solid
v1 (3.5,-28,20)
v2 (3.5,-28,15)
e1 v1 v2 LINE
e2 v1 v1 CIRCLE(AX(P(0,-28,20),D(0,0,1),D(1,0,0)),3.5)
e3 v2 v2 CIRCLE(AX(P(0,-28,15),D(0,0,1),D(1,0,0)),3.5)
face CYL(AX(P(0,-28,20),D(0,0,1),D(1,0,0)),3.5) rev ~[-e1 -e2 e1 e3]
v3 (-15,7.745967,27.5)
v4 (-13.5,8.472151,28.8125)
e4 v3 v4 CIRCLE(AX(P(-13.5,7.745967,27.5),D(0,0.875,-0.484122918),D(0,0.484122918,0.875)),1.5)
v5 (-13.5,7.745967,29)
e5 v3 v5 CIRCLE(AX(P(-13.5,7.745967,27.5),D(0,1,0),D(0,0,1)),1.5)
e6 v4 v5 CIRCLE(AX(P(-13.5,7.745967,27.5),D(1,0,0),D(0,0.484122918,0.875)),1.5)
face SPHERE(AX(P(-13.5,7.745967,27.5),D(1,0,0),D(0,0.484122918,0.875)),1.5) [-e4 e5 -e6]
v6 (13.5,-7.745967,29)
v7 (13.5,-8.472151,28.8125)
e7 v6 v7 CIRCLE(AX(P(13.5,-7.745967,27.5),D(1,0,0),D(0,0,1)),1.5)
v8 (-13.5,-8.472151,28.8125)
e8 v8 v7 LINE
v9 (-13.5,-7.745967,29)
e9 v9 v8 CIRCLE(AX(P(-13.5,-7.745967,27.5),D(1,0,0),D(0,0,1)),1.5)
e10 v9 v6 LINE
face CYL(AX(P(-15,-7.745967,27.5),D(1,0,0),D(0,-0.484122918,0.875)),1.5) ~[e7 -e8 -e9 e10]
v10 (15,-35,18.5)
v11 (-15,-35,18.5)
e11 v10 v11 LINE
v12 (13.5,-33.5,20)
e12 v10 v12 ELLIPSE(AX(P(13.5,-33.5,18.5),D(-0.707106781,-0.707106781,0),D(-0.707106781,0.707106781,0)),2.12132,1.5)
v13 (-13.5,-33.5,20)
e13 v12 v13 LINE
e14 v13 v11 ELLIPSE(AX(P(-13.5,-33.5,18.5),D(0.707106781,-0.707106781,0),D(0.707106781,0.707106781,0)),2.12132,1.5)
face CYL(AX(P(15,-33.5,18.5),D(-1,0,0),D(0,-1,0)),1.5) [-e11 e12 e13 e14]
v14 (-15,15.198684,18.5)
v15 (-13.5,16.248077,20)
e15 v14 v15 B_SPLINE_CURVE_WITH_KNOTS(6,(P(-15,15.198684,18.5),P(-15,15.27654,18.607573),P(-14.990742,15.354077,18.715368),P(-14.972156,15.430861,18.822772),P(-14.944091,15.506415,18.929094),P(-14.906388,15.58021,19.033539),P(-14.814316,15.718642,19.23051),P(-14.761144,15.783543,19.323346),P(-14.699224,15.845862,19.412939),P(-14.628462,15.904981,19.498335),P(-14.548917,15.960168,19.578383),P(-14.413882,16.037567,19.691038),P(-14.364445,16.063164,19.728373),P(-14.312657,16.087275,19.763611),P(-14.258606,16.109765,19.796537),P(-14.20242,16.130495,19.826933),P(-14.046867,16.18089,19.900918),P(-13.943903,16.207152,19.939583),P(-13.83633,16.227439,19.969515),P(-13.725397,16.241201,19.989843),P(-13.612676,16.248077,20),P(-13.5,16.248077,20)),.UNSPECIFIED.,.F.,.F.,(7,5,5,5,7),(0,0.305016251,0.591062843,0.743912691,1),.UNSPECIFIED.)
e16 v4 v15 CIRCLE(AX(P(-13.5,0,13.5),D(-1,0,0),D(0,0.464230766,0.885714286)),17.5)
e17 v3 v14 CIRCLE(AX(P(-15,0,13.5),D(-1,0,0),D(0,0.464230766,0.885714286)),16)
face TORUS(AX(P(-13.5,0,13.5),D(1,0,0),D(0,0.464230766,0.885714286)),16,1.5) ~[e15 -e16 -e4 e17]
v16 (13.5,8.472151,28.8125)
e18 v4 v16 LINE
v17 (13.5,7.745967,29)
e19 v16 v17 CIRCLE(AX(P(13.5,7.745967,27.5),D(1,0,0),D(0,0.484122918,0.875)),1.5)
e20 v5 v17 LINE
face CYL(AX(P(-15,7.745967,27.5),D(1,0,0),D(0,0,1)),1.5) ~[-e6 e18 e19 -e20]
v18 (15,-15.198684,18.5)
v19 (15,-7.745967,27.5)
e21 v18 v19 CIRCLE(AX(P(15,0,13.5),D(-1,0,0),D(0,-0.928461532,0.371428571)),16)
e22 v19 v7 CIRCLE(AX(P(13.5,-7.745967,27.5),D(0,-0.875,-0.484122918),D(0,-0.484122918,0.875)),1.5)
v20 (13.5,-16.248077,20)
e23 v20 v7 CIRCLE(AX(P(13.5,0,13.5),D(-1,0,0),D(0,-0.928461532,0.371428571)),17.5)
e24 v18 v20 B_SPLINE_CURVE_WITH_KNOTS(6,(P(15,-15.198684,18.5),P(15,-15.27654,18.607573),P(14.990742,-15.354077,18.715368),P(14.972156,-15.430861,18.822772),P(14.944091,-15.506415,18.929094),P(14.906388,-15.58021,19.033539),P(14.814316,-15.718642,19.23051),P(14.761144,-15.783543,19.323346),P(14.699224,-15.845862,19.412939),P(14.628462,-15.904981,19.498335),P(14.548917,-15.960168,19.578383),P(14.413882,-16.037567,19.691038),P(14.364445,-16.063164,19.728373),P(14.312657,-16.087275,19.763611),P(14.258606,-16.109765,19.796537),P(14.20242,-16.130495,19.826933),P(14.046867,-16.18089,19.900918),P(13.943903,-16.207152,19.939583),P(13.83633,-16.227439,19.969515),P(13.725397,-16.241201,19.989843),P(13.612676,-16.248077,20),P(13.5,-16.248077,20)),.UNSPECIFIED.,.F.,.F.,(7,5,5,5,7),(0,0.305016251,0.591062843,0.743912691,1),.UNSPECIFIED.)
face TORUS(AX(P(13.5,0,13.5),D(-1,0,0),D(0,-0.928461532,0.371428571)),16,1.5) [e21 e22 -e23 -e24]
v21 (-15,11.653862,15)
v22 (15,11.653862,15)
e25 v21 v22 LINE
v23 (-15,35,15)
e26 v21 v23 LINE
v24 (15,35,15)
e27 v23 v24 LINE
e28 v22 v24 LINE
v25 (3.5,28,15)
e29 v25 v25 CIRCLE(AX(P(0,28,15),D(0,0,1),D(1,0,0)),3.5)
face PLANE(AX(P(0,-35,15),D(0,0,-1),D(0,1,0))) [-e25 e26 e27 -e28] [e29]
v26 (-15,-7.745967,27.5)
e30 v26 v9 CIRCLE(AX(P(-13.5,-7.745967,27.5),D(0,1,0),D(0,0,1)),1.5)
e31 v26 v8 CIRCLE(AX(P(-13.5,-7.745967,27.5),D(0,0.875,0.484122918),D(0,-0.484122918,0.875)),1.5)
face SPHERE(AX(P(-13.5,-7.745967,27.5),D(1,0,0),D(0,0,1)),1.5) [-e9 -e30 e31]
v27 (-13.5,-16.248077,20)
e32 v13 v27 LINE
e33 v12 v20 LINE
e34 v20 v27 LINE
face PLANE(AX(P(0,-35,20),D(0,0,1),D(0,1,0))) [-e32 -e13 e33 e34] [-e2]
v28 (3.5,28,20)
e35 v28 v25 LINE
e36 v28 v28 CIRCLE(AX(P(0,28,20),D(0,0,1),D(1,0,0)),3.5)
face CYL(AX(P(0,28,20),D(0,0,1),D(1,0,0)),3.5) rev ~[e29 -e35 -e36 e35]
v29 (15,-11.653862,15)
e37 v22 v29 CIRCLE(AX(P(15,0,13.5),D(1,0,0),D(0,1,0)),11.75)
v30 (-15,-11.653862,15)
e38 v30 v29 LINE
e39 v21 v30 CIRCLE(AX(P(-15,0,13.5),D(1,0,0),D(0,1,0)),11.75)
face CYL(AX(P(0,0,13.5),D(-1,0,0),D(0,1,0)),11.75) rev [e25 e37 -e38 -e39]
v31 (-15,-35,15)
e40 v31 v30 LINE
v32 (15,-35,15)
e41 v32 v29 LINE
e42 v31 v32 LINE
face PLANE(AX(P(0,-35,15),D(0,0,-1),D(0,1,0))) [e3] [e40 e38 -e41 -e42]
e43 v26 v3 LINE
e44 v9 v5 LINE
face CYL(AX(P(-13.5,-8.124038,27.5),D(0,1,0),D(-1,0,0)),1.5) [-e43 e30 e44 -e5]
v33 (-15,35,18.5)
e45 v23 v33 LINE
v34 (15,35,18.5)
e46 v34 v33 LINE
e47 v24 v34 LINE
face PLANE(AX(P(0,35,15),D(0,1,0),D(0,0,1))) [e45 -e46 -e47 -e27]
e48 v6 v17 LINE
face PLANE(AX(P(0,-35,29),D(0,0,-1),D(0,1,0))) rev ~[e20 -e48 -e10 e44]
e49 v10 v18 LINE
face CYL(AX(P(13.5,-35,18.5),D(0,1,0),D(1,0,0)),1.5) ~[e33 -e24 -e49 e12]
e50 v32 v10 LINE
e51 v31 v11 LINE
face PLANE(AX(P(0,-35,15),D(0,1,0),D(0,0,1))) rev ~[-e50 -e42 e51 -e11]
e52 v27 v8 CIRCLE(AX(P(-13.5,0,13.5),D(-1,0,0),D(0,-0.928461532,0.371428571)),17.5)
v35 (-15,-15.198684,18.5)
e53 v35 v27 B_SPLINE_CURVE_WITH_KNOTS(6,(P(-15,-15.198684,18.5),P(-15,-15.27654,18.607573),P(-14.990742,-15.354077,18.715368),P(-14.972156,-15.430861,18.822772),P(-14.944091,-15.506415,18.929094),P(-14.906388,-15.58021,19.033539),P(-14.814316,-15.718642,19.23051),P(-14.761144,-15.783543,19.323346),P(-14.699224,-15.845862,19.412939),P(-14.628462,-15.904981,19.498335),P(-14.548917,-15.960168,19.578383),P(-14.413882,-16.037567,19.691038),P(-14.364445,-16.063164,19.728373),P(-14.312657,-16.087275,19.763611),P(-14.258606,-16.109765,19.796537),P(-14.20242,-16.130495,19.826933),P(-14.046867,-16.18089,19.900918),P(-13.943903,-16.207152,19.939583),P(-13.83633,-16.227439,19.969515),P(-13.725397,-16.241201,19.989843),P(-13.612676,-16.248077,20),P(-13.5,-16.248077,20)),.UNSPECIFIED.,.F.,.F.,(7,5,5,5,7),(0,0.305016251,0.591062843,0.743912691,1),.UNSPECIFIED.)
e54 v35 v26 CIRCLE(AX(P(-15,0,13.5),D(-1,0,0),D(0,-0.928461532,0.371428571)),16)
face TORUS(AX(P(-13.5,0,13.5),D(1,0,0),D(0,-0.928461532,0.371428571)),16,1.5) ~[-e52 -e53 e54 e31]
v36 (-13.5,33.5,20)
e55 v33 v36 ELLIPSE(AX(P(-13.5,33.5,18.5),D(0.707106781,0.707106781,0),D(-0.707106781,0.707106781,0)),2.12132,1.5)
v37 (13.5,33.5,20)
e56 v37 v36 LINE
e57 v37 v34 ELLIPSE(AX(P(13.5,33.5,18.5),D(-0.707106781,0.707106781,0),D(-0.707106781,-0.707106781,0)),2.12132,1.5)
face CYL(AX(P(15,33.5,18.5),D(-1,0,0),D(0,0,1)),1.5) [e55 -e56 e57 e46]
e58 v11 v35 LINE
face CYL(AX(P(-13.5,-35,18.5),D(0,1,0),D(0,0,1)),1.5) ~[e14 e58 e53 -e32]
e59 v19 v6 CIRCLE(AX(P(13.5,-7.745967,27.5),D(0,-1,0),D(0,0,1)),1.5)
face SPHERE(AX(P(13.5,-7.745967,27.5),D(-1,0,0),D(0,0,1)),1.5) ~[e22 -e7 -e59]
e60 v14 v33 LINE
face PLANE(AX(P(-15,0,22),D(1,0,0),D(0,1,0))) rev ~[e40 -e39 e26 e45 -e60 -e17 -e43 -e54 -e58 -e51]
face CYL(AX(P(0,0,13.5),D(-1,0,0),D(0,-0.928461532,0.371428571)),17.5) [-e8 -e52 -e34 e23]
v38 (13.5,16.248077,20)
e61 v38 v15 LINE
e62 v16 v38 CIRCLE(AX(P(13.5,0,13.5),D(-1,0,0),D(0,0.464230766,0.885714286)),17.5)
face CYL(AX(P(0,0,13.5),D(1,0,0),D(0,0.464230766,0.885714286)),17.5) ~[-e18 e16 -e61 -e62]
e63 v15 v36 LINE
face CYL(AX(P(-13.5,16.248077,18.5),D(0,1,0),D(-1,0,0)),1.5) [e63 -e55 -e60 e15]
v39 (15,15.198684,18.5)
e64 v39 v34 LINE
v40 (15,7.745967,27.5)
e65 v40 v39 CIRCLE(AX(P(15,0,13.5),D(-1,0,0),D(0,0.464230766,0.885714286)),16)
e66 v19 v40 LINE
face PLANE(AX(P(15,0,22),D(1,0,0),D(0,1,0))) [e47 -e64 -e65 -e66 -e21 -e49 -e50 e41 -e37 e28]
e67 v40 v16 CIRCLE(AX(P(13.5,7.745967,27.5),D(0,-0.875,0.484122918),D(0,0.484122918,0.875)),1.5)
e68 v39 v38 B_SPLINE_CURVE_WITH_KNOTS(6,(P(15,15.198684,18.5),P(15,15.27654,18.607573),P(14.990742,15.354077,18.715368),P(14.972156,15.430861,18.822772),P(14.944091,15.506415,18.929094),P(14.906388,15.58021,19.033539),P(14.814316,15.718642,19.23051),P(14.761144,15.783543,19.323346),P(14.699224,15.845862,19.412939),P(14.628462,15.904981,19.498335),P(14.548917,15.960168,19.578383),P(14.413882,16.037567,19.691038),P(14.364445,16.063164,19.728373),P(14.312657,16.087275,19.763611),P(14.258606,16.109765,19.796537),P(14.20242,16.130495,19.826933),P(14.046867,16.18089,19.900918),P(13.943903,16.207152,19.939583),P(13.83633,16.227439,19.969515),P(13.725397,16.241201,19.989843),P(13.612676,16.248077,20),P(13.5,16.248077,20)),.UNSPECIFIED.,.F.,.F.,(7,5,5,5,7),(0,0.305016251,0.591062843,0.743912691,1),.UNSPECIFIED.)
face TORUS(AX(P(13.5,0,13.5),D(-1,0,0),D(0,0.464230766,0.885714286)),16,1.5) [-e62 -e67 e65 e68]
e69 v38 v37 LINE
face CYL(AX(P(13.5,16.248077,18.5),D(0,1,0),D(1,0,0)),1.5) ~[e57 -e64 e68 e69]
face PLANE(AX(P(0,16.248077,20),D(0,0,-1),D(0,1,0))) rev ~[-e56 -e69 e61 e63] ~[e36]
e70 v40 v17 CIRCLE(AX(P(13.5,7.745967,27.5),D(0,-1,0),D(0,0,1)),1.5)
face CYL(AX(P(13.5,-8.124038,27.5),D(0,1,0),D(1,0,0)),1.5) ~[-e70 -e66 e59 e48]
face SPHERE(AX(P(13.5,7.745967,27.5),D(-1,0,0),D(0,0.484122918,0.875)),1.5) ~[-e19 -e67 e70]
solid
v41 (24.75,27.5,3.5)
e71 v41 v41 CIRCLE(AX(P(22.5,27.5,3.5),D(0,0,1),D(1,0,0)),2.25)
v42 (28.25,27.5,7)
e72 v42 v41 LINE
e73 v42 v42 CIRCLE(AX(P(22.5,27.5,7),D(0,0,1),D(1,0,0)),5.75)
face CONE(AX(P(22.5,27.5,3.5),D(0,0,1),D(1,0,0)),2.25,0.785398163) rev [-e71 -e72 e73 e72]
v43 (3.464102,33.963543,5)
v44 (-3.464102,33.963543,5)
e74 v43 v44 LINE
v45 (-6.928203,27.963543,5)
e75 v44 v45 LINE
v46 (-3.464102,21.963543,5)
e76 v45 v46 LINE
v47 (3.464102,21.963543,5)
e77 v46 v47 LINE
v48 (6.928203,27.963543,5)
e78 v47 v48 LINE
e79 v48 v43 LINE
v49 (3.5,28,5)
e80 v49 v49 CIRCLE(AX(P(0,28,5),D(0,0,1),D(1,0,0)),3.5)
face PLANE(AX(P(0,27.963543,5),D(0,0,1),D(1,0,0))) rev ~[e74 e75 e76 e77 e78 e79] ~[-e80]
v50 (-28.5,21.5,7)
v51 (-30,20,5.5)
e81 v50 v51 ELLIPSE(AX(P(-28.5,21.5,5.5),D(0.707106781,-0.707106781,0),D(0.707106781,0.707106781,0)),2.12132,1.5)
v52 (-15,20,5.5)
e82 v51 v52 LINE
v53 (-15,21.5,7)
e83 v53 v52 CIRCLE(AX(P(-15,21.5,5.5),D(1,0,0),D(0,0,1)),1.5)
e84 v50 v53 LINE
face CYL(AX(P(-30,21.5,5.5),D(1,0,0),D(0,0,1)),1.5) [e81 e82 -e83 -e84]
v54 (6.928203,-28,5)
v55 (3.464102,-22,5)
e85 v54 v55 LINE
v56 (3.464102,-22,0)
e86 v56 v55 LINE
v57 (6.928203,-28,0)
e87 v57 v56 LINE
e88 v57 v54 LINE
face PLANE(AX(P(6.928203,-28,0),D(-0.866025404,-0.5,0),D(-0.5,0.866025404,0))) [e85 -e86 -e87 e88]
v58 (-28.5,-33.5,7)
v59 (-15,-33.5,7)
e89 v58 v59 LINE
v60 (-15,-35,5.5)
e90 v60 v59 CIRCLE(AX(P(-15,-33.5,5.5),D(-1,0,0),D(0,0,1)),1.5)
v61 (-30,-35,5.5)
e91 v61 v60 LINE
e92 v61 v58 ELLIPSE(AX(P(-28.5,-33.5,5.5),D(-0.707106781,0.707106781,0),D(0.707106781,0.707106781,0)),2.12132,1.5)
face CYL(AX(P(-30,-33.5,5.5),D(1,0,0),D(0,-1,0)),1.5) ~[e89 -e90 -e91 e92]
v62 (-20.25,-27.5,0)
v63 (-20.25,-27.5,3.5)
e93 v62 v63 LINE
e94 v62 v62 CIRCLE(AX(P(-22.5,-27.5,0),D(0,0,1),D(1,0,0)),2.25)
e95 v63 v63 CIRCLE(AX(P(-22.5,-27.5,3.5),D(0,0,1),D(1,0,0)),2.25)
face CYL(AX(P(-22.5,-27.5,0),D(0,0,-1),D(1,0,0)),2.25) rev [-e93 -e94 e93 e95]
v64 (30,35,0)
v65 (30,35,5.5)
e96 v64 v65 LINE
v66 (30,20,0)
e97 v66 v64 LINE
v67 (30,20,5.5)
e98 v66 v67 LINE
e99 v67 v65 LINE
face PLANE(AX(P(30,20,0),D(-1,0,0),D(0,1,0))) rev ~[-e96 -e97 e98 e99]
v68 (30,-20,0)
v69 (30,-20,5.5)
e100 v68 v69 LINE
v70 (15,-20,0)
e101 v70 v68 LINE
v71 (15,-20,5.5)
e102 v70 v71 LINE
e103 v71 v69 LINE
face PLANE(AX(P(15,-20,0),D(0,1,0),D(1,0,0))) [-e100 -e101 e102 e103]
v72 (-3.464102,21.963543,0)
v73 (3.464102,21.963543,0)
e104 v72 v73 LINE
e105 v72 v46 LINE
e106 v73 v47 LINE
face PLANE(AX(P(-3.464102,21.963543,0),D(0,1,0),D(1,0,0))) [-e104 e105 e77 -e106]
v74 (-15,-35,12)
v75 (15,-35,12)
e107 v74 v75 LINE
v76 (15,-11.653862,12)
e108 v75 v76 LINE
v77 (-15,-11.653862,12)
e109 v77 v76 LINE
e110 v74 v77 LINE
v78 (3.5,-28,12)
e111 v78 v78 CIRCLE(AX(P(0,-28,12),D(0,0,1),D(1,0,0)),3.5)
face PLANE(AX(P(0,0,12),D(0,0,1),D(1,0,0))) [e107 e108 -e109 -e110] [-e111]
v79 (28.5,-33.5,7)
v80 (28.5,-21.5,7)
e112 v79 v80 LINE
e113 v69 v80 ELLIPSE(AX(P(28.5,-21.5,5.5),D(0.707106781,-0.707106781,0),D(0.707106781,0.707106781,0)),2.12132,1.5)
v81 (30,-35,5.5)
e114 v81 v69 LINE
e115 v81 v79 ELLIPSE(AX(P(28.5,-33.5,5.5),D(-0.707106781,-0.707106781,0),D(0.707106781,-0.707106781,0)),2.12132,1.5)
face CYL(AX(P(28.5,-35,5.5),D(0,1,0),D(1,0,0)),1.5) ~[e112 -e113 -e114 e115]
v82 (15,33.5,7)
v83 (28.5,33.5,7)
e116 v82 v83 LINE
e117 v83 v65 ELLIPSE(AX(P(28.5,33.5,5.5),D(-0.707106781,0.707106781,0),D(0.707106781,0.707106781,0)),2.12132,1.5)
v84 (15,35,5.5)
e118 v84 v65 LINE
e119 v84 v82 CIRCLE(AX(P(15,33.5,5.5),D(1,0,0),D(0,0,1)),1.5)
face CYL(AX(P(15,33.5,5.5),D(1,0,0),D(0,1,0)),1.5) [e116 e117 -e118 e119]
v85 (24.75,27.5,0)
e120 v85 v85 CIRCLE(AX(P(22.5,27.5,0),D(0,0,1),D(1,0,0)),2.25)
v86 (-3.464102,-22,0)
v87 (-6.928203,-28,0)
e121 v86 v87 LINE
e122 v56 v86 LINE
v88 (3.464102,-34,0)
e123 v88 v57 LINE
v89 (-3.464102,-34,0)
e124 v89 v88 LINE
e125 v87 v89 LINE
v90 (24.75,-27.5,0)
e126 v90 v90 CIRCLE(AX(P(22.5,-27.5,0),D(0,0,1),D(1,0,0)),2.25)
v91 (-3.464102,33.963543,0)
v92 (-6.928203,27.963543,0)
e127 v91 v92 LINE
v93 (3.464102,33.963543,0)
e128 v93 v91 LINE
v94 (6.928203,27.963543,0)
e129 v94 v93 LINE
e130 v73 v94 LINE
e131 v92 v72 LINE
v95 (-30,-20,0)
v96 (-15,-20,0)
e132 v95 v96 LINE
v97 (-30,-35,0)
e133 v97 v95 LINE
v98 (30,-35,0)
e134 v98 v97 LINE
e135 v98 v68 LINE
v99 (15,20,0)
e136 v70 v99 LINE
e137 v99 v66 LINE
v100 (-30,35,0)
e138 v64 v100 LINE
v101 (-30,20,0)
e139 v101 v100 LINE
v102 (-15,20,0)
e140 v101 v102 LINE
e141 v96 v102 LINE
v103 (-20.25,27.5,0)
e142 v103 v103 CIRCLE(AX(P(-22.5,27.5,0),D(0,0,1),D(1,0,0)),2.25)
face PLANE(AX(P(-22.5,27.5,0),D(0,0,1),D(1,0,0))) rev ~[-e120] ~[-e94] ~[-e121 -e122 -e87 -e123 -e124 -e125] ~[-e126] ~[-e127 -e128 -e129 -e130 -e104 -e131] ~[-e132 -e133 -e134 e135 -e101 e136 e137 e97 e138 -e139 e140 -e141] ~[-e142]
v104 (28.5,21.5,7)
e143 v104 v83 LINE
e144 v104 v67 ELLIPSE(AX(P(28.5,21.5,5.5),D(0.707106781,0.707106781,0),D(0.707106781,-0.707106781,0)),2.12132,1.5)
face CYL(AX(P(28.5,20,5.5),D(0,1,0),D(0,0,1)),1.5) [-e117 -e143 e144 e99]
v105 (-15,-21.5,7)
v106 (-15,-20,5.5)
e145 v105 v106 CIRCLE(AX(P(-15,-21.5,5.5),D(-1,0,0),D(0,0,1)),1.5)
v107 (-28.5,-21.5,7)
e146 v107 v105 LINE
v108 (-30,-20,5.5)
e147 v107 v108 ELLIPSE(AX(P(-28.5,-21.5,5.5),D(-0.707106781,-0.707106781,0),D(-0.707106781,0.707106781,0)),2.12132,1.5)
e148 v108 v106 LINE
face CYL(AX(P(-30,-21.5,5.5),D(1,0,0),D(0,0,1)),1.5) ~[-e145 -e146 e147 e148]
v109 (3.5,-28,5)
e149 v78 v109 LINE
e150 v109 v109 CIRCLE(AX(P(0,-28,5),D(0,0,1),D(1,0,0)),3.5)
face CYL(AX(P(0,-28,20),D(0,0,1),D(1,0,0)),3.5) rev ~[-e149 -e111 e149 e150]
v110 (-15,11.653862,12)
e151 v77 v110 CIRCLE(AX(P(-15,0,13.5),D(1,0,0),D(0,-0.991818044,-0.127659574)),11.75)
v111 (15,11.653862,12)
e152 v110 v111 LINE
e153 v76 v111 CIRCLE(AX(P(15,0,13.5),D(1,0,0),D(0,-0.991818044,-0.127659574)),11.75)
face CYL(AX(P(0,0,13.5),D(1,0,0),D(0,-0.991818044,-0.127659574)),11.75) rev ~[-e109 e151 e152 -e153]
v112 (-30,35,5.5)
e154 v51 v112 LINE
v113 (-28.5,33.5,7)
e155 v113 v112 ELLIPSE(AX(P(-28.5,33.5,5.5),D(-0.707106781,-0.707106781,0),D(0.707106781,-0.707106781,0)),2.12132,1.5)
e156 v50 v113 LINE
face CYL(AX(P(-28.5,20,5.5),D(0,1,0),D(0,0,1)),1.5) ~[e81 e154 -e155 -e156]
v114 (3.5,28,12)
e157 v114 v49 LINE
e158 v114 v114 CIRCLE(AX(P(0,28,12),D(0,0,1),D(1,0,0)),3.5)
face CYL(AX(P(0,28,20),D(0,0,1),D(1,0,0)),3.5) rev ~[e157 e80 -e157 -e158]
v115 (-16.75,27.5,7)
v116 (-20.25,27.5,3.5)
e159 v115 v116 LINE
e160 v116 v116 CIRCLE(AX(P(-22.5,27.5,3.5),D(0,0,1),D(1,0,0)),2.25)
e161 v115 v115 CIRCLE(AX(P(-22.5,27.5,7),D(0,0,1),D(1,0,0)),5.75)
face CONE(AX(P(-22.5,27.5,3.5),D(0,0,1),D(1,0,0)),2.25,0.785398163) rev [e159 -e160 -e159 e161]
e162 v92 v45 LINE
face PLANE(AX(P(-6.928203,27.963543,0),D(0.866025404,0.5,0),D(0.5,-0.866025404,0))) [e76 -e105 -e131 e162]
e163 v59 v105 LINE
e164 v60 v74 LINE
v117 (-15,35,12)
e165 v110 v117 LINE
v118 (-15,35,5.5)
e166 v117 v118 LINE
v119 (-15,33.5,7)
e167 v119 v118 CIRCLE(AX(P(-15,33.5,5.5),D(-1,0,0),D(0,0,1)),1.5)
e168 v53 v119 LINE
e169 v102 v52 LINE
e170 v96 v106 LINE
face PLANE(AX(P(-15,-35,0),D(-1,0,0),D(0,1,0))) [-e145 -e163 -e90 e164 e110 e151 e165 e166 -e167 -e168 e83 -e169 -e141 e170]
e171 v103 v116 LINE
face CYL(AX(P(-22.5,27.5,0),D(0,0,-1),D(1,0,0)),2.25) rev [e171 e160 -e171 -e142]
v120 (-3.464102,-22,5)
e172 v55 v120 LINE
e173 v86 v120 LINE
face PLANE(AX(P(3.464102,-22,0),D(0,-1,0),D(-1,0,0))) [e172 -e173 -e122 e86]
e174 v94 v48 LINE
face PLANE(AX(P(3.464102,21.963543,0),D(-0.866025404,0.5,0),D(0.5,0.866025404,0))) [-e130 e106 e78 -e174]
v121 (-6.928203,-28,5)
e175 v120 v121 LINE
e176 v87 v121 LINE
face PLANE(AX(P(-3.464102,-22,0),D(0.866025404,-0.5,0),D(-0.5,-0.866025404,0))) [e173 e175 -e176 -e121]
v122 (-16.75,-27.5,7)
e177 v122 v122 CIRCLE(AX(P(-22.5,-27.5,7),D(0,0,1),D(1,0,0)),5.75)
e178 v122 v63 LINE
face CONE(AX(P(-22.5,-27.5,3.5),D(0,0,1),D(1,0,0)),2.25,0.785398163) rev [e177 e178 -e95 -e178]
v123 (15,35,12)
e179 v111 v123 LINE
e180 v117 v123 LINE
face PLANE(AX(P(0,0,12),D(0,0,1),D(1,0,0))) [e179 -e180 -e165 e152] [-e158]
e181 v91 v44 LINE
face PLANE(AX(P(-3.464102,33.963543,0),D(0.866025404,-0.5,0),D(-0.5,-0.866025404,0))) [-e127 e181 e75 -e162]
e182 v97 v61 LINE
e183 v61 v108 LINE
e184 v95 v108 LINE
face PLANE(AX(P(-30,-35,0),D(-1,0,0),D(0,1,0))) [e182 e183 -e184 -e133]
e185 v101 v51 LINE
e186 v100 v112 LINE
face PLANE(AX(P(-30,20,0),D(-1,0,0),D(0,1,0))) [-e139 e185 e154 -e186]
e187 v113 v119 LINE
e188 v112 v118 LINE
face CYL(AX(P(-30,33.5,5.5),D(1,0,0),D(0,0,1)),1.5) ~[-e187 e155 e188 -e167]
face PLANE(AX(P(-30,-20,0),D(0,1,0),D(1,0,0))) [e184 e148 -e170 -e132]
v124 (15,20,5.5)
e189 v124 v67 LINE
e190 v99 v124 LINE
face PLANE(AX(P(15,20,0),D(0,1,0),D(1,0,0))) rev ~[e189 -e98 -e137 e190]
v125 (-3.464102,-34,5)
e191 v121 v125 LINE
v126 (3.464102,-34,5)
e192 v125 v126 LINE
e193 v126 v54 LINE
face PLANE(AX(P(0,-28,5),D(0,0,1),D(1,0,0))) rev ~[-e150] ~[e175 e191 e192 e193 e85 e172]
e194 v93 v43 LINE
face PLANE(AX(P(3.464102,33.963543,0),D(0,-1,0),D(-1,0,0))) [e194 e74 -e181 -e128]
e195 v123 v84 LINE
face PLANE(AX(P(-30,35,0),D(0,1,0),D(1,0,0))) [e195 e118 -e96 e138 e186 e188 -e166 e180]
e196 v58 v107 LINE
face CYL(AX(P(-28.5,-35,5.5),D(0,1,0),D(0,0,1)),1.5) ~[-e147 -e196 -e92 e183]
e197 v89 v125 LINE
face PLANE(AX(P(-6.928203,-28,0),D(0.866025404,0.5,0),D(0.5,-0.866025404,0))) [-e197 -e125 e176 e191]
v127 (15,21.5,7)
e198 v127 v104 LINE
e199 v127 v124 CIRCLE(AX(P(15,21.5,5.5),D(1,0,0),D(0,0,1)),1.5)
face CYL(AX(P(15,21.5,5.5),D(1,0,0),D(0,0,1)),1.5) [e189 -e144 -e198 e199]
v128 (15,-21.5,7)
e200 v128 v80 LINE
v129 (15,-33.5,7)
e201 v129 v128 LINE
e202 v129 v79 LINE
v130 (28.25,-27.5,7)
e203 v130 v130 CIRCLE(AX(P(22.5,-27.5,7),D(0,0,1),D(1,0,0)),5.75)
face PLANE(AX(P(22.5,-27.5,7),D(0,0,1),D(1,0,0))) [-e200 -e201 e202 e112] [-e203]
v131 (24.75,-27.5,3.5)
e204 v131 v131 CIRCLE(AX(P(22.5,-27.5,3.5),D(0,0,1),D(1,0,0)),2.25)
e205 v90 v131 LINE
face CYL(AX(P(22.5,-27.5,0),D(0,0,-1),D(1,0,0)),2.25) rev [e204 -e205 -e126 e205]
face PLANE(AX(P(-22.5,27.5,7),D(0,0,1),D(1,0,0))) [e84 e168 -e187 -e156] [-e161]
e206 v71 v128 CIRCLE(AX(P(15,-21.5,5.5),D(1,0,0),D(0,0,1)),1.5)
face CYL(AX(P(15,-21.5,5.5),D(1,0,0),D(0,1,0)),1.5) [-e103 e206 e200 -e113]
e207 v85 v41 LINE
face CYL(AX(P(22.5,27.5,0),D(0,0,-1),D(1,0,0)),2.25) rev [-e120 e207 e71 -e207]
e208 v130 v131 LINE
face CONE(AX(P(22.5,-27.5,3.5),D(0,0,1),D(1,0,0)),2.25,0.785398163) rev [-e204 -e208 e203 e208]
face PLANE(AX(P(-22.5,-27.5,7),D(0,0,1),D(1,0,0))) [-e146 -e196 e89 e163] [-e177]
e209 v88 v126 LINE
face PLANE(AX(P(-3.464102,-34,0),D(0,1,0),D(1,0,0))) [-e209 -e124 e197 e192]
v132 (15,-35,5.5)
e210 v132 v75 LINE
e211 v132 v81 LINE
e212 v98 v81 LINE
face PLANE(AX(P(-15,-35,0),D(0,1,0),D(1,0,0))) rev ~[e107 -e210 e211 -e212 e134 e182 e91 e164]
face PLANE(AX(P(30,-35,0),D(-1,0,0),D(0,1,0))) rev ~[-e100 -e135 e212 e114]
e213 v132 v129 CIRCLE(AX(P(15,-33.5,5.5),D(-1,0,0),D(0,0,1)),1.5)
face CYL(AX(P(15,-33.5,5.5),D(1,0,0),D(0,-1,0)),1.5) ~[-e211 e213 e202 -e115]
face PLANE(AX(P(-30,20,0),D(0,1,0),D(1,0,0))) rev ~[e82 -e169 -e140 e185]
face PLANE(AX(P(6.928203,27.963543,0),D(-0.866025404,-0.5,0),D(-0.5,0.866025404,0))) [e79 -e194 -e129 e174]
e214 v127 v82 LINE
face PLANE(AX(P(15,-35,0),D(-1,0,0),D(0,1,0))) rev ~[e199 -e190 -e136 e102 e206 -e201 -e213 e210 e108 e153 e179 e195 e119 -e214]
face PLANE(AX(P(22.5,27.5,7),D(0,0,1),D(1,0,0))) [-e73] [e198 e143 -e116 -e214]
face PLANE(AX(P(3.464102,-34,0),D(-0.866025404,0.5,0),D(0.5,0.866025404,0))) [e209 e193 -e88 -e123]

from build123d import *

# Parameters (mm, degrees)
F0_W      = 30
F0_H      = 70
F1_DEPTH  = 12
F2_W      = 70
F2_H      = 14
F3_DEPTH  = 15
F5_DEPTH  = 15
F7_DEPTH  = 15
F9_DEPTH  = 20.001
F11_DEPTH = 5
F12_W     = 15
F12_H     = 15
F12_R     = 2.25
F13_DEPTH = 7
F14_SIZE  = 3.5
F15_R     = 1.5
F15_2_R   = 1.5


with BuildPart() as f1:
    # F0 (on Top) → F1 (new body)
    with BuildSketch(Plane.XY):
        Rectangle(F0_W, F0_H)
    extrude(amount=F1_DEPTH)


with BuildPart() as f3:
    # F2 (on Right) → F3 (new body, symmetric)
    with BuildSketch(Plane.YZ):
        with Locations((0, 22)):
            Rectangle(F2_W, F2_H)
    extrude(amount=F3_DEPTH, both=True)


with BuildPart() as f5_tool:
    # F4 (on Right) → F5 (new body, symmetric)
    with BuildSketch(Plane.YZ):
        with BuildLine():
            ThreePointArc((11.75, 13.5), (0, 25.25), (-11.75, 13.5))
            Line((-11.75, 13.5), (0, 13.5))
            Line((0, 13.5), (0, 12))
            Line((0, 12), (-11.6538620208, 12))
            ThreePointArc((-11.6538620208, 12), (0.7515388398, 1.7740591264), (11.75, 13.5))
        make_face()
        with BuildLine():
            Line((0, 13.5), (-11.75, 13.5))
            ThreePointArc((-11.75, 13.5), (-11.7259408736, 12.7484611602), (-11.6538620208, 12))
            Line((-11.6538620208, 12), (0, 12))
            Line((0, 12), (0, 13.5))
        make_face()
    extrude(amount=F5_DEPTH, both=True)


with BuildPart() as f1_1:
    add(f1.part)

    # F5: cut by f5_tool
    add(f5_tool.part, mode=Mode.SUBTRACT)


with BuildPart() as f3_1:
    add(f3.part)

    # F5: cut by f5_tool
    add(f5_tool.part, mode=Mode.SUBTRACT)

    # F6 (on Right) → F7 (cut, symmetric)
    with BuildSketch(Plane.YZ):
        with BuildLine():
            ThreePointArc((-16.2480768093, 20), (-12.9903810568, 25.2260393996), (-8.1240384046, 29))
            Line((-8.1240384046, 29), (-35, 29))
            Line((-35, 29), (-35, 20))
            Line((-35, 20), (-16.2480768093, 20))
        make_face()
        with BuildLine():
            Line((35, 20), (35, 29))
            Line((35, 29), (8.1240384046, 29))
            ThreePointArc((8.1240384046, 29), (12.9903810568, 25.2260393996), (16.2480768093, 20))
            Line((16.2480768093, 20), (35, 20))
        make_face()
    extrude(amount=F7_DEPTH, both=True, mode=Mode.SUBTRACT)


with BuildPart() as f9_tool:
    # F8 (on face) → F9 (new body, through all)
    with BuildSketch(Plane.XY.offset(20)):
        with BuildLine():
            Line((3.5, 28), (-3.5, 28))
            ThreePointArc((-3.5, 28), (0, 24.5), (3.5, 28))
        make_face()
        with BuildLine():
            Line((3.5, -28), (-3.5, -28))
            ThreePointArc((-3.5, -28), (0, -31.5), (3.5, -28))
        make_face()
        with BuildLine():
            ThreePointArc((3.5, -28), (0, -24.5), (-3.5, -28))
            Line((-3.5, -28), (3.5, -28))
        make_face()
        with BuildLine():
            ThreePointArc((3.5, 28), (0, 31.5), (-3.5, 28))
            Line((-3.5, 28), (3.5, 28))
        make_face()
    extrude(amount=-F9_DEPTH)


with BuildPart() as f1_2:
    add(f1_1.part)

    # F9: cut by f9_tool
    add(f9_tool.part, mode=Mode.SUBTRACT)

    # F10 (on Top) → F11 (cut)
    with BuildSketch(Plane.XY):
        Polygon((3.4641016151, -22), (-3.4641016151, -22), (-6.9282032303, -28), (-3.4641016151, -34), (3.4641016151, -34), (6.9282032303, -28), align=None)
        Polygon((3.4641016151, 21.9635427939), (6.9282032303, 27.9635427939), (3.4641016151, 33.9635427939), (-3.4641016151, 33.9635427939), (-6.9282032303, 27.9635427939), (-3.4641016151, 21.9635427939), align=None)
    extrude(amount=F11_DEPTH, mode=Mode.SUBTRACT)

    # F12 (on Top) → F13 (join)
    with BuildSketch(Plane.XY):
        with Locations((-22.5, 27.5)):
            Rectangle(F12_W, F12_H)
        with Locations((-22.5, 27.5)):
            Circle(F12_R, mode=Mode.SUBTRACT)
        with Locations((-22.5, -27.5)):
            Rectangle(F12_W, F12_H)
        with Locations((-22.5, -27.5)):
            Circle(F12_R, mode=Mode.SUBTRACT)
        with Locations((22.5, -27.5)):
            Rectangle(F12_W, F12_H)
        with Locations((22.5, -27.5)):
            Circle(F12_R, mode=Mode.SUBTRACT)
        with Locations((22.5, 27.5)):
            Rectangle(F12_W, F12_H)
        with Locations((22.5, 27.5)):
            Circle(F12_R, mode=Mode.SUBTRACT)
    extrude(amount=F13_DEPTH)

    # F14
    f14_edges = [f1_2.edges().sort_by_distance(p)[0] for p in [
        (-24.75, 27.5, 7),
        (20.25, 27.5, 7),
        (20.25, -27.5, 7),
        (-24.75, -27.5, 7),
    ]]
    chamfer(f14_edges, length=F14_SIZE)

    # F15#2
    f15_2_edges = [f1_2.edges().sort_by_distance(p)[0] for p in [
        (-22.5, -35, 7),
        (-30, -27.5, 7),
        (-22.5, -20, 7),
        (22.5, -35, 7),
        (30, -27.5, 7),
        (22.5, -20, 7),
        (22.5, 20, 7),
        (30, 27.5, 7),
        (22.5, 35, 7),
        (-22.5, 35, 7),
        (-30, 27.5, 7),
        (-22.5, 20, 7),
    ]]
    fillet(f15_2_edges, radius=F15_2_R)


with BuildPart() as f3_2:
    add(f3_1.part)

    # F9: cut by f9_tool
    add(f9_tool.part, mode=Mode.SUBTRACT)

    # F15
    f15_edges = [f3_2.edges().sort_by_distance(p)[0] for p in [
        (-15, 25.624038, 20),
        (0, 35, 20),
        (15, 25.624038, 20),
        (15, 12.990381, 25.226039),
        (-15, 12.990381, 25.226039),
        (-15, 0, 29),
        (15, 0, 29),
        (15, -12.990381, 25.226039),
        (-15, -12.990381, 25.226039),
        (-15, -25.624038, 20),
        (0, -35, 20),
        (15, -25.624038, 20),
        (0, -8.124038, 29),
        (0, 8.124038, 29),
    ]]
    fillet(f15_edges, radius=F15_R)


solid = Compound([f1_2.part, f3_2.part])
